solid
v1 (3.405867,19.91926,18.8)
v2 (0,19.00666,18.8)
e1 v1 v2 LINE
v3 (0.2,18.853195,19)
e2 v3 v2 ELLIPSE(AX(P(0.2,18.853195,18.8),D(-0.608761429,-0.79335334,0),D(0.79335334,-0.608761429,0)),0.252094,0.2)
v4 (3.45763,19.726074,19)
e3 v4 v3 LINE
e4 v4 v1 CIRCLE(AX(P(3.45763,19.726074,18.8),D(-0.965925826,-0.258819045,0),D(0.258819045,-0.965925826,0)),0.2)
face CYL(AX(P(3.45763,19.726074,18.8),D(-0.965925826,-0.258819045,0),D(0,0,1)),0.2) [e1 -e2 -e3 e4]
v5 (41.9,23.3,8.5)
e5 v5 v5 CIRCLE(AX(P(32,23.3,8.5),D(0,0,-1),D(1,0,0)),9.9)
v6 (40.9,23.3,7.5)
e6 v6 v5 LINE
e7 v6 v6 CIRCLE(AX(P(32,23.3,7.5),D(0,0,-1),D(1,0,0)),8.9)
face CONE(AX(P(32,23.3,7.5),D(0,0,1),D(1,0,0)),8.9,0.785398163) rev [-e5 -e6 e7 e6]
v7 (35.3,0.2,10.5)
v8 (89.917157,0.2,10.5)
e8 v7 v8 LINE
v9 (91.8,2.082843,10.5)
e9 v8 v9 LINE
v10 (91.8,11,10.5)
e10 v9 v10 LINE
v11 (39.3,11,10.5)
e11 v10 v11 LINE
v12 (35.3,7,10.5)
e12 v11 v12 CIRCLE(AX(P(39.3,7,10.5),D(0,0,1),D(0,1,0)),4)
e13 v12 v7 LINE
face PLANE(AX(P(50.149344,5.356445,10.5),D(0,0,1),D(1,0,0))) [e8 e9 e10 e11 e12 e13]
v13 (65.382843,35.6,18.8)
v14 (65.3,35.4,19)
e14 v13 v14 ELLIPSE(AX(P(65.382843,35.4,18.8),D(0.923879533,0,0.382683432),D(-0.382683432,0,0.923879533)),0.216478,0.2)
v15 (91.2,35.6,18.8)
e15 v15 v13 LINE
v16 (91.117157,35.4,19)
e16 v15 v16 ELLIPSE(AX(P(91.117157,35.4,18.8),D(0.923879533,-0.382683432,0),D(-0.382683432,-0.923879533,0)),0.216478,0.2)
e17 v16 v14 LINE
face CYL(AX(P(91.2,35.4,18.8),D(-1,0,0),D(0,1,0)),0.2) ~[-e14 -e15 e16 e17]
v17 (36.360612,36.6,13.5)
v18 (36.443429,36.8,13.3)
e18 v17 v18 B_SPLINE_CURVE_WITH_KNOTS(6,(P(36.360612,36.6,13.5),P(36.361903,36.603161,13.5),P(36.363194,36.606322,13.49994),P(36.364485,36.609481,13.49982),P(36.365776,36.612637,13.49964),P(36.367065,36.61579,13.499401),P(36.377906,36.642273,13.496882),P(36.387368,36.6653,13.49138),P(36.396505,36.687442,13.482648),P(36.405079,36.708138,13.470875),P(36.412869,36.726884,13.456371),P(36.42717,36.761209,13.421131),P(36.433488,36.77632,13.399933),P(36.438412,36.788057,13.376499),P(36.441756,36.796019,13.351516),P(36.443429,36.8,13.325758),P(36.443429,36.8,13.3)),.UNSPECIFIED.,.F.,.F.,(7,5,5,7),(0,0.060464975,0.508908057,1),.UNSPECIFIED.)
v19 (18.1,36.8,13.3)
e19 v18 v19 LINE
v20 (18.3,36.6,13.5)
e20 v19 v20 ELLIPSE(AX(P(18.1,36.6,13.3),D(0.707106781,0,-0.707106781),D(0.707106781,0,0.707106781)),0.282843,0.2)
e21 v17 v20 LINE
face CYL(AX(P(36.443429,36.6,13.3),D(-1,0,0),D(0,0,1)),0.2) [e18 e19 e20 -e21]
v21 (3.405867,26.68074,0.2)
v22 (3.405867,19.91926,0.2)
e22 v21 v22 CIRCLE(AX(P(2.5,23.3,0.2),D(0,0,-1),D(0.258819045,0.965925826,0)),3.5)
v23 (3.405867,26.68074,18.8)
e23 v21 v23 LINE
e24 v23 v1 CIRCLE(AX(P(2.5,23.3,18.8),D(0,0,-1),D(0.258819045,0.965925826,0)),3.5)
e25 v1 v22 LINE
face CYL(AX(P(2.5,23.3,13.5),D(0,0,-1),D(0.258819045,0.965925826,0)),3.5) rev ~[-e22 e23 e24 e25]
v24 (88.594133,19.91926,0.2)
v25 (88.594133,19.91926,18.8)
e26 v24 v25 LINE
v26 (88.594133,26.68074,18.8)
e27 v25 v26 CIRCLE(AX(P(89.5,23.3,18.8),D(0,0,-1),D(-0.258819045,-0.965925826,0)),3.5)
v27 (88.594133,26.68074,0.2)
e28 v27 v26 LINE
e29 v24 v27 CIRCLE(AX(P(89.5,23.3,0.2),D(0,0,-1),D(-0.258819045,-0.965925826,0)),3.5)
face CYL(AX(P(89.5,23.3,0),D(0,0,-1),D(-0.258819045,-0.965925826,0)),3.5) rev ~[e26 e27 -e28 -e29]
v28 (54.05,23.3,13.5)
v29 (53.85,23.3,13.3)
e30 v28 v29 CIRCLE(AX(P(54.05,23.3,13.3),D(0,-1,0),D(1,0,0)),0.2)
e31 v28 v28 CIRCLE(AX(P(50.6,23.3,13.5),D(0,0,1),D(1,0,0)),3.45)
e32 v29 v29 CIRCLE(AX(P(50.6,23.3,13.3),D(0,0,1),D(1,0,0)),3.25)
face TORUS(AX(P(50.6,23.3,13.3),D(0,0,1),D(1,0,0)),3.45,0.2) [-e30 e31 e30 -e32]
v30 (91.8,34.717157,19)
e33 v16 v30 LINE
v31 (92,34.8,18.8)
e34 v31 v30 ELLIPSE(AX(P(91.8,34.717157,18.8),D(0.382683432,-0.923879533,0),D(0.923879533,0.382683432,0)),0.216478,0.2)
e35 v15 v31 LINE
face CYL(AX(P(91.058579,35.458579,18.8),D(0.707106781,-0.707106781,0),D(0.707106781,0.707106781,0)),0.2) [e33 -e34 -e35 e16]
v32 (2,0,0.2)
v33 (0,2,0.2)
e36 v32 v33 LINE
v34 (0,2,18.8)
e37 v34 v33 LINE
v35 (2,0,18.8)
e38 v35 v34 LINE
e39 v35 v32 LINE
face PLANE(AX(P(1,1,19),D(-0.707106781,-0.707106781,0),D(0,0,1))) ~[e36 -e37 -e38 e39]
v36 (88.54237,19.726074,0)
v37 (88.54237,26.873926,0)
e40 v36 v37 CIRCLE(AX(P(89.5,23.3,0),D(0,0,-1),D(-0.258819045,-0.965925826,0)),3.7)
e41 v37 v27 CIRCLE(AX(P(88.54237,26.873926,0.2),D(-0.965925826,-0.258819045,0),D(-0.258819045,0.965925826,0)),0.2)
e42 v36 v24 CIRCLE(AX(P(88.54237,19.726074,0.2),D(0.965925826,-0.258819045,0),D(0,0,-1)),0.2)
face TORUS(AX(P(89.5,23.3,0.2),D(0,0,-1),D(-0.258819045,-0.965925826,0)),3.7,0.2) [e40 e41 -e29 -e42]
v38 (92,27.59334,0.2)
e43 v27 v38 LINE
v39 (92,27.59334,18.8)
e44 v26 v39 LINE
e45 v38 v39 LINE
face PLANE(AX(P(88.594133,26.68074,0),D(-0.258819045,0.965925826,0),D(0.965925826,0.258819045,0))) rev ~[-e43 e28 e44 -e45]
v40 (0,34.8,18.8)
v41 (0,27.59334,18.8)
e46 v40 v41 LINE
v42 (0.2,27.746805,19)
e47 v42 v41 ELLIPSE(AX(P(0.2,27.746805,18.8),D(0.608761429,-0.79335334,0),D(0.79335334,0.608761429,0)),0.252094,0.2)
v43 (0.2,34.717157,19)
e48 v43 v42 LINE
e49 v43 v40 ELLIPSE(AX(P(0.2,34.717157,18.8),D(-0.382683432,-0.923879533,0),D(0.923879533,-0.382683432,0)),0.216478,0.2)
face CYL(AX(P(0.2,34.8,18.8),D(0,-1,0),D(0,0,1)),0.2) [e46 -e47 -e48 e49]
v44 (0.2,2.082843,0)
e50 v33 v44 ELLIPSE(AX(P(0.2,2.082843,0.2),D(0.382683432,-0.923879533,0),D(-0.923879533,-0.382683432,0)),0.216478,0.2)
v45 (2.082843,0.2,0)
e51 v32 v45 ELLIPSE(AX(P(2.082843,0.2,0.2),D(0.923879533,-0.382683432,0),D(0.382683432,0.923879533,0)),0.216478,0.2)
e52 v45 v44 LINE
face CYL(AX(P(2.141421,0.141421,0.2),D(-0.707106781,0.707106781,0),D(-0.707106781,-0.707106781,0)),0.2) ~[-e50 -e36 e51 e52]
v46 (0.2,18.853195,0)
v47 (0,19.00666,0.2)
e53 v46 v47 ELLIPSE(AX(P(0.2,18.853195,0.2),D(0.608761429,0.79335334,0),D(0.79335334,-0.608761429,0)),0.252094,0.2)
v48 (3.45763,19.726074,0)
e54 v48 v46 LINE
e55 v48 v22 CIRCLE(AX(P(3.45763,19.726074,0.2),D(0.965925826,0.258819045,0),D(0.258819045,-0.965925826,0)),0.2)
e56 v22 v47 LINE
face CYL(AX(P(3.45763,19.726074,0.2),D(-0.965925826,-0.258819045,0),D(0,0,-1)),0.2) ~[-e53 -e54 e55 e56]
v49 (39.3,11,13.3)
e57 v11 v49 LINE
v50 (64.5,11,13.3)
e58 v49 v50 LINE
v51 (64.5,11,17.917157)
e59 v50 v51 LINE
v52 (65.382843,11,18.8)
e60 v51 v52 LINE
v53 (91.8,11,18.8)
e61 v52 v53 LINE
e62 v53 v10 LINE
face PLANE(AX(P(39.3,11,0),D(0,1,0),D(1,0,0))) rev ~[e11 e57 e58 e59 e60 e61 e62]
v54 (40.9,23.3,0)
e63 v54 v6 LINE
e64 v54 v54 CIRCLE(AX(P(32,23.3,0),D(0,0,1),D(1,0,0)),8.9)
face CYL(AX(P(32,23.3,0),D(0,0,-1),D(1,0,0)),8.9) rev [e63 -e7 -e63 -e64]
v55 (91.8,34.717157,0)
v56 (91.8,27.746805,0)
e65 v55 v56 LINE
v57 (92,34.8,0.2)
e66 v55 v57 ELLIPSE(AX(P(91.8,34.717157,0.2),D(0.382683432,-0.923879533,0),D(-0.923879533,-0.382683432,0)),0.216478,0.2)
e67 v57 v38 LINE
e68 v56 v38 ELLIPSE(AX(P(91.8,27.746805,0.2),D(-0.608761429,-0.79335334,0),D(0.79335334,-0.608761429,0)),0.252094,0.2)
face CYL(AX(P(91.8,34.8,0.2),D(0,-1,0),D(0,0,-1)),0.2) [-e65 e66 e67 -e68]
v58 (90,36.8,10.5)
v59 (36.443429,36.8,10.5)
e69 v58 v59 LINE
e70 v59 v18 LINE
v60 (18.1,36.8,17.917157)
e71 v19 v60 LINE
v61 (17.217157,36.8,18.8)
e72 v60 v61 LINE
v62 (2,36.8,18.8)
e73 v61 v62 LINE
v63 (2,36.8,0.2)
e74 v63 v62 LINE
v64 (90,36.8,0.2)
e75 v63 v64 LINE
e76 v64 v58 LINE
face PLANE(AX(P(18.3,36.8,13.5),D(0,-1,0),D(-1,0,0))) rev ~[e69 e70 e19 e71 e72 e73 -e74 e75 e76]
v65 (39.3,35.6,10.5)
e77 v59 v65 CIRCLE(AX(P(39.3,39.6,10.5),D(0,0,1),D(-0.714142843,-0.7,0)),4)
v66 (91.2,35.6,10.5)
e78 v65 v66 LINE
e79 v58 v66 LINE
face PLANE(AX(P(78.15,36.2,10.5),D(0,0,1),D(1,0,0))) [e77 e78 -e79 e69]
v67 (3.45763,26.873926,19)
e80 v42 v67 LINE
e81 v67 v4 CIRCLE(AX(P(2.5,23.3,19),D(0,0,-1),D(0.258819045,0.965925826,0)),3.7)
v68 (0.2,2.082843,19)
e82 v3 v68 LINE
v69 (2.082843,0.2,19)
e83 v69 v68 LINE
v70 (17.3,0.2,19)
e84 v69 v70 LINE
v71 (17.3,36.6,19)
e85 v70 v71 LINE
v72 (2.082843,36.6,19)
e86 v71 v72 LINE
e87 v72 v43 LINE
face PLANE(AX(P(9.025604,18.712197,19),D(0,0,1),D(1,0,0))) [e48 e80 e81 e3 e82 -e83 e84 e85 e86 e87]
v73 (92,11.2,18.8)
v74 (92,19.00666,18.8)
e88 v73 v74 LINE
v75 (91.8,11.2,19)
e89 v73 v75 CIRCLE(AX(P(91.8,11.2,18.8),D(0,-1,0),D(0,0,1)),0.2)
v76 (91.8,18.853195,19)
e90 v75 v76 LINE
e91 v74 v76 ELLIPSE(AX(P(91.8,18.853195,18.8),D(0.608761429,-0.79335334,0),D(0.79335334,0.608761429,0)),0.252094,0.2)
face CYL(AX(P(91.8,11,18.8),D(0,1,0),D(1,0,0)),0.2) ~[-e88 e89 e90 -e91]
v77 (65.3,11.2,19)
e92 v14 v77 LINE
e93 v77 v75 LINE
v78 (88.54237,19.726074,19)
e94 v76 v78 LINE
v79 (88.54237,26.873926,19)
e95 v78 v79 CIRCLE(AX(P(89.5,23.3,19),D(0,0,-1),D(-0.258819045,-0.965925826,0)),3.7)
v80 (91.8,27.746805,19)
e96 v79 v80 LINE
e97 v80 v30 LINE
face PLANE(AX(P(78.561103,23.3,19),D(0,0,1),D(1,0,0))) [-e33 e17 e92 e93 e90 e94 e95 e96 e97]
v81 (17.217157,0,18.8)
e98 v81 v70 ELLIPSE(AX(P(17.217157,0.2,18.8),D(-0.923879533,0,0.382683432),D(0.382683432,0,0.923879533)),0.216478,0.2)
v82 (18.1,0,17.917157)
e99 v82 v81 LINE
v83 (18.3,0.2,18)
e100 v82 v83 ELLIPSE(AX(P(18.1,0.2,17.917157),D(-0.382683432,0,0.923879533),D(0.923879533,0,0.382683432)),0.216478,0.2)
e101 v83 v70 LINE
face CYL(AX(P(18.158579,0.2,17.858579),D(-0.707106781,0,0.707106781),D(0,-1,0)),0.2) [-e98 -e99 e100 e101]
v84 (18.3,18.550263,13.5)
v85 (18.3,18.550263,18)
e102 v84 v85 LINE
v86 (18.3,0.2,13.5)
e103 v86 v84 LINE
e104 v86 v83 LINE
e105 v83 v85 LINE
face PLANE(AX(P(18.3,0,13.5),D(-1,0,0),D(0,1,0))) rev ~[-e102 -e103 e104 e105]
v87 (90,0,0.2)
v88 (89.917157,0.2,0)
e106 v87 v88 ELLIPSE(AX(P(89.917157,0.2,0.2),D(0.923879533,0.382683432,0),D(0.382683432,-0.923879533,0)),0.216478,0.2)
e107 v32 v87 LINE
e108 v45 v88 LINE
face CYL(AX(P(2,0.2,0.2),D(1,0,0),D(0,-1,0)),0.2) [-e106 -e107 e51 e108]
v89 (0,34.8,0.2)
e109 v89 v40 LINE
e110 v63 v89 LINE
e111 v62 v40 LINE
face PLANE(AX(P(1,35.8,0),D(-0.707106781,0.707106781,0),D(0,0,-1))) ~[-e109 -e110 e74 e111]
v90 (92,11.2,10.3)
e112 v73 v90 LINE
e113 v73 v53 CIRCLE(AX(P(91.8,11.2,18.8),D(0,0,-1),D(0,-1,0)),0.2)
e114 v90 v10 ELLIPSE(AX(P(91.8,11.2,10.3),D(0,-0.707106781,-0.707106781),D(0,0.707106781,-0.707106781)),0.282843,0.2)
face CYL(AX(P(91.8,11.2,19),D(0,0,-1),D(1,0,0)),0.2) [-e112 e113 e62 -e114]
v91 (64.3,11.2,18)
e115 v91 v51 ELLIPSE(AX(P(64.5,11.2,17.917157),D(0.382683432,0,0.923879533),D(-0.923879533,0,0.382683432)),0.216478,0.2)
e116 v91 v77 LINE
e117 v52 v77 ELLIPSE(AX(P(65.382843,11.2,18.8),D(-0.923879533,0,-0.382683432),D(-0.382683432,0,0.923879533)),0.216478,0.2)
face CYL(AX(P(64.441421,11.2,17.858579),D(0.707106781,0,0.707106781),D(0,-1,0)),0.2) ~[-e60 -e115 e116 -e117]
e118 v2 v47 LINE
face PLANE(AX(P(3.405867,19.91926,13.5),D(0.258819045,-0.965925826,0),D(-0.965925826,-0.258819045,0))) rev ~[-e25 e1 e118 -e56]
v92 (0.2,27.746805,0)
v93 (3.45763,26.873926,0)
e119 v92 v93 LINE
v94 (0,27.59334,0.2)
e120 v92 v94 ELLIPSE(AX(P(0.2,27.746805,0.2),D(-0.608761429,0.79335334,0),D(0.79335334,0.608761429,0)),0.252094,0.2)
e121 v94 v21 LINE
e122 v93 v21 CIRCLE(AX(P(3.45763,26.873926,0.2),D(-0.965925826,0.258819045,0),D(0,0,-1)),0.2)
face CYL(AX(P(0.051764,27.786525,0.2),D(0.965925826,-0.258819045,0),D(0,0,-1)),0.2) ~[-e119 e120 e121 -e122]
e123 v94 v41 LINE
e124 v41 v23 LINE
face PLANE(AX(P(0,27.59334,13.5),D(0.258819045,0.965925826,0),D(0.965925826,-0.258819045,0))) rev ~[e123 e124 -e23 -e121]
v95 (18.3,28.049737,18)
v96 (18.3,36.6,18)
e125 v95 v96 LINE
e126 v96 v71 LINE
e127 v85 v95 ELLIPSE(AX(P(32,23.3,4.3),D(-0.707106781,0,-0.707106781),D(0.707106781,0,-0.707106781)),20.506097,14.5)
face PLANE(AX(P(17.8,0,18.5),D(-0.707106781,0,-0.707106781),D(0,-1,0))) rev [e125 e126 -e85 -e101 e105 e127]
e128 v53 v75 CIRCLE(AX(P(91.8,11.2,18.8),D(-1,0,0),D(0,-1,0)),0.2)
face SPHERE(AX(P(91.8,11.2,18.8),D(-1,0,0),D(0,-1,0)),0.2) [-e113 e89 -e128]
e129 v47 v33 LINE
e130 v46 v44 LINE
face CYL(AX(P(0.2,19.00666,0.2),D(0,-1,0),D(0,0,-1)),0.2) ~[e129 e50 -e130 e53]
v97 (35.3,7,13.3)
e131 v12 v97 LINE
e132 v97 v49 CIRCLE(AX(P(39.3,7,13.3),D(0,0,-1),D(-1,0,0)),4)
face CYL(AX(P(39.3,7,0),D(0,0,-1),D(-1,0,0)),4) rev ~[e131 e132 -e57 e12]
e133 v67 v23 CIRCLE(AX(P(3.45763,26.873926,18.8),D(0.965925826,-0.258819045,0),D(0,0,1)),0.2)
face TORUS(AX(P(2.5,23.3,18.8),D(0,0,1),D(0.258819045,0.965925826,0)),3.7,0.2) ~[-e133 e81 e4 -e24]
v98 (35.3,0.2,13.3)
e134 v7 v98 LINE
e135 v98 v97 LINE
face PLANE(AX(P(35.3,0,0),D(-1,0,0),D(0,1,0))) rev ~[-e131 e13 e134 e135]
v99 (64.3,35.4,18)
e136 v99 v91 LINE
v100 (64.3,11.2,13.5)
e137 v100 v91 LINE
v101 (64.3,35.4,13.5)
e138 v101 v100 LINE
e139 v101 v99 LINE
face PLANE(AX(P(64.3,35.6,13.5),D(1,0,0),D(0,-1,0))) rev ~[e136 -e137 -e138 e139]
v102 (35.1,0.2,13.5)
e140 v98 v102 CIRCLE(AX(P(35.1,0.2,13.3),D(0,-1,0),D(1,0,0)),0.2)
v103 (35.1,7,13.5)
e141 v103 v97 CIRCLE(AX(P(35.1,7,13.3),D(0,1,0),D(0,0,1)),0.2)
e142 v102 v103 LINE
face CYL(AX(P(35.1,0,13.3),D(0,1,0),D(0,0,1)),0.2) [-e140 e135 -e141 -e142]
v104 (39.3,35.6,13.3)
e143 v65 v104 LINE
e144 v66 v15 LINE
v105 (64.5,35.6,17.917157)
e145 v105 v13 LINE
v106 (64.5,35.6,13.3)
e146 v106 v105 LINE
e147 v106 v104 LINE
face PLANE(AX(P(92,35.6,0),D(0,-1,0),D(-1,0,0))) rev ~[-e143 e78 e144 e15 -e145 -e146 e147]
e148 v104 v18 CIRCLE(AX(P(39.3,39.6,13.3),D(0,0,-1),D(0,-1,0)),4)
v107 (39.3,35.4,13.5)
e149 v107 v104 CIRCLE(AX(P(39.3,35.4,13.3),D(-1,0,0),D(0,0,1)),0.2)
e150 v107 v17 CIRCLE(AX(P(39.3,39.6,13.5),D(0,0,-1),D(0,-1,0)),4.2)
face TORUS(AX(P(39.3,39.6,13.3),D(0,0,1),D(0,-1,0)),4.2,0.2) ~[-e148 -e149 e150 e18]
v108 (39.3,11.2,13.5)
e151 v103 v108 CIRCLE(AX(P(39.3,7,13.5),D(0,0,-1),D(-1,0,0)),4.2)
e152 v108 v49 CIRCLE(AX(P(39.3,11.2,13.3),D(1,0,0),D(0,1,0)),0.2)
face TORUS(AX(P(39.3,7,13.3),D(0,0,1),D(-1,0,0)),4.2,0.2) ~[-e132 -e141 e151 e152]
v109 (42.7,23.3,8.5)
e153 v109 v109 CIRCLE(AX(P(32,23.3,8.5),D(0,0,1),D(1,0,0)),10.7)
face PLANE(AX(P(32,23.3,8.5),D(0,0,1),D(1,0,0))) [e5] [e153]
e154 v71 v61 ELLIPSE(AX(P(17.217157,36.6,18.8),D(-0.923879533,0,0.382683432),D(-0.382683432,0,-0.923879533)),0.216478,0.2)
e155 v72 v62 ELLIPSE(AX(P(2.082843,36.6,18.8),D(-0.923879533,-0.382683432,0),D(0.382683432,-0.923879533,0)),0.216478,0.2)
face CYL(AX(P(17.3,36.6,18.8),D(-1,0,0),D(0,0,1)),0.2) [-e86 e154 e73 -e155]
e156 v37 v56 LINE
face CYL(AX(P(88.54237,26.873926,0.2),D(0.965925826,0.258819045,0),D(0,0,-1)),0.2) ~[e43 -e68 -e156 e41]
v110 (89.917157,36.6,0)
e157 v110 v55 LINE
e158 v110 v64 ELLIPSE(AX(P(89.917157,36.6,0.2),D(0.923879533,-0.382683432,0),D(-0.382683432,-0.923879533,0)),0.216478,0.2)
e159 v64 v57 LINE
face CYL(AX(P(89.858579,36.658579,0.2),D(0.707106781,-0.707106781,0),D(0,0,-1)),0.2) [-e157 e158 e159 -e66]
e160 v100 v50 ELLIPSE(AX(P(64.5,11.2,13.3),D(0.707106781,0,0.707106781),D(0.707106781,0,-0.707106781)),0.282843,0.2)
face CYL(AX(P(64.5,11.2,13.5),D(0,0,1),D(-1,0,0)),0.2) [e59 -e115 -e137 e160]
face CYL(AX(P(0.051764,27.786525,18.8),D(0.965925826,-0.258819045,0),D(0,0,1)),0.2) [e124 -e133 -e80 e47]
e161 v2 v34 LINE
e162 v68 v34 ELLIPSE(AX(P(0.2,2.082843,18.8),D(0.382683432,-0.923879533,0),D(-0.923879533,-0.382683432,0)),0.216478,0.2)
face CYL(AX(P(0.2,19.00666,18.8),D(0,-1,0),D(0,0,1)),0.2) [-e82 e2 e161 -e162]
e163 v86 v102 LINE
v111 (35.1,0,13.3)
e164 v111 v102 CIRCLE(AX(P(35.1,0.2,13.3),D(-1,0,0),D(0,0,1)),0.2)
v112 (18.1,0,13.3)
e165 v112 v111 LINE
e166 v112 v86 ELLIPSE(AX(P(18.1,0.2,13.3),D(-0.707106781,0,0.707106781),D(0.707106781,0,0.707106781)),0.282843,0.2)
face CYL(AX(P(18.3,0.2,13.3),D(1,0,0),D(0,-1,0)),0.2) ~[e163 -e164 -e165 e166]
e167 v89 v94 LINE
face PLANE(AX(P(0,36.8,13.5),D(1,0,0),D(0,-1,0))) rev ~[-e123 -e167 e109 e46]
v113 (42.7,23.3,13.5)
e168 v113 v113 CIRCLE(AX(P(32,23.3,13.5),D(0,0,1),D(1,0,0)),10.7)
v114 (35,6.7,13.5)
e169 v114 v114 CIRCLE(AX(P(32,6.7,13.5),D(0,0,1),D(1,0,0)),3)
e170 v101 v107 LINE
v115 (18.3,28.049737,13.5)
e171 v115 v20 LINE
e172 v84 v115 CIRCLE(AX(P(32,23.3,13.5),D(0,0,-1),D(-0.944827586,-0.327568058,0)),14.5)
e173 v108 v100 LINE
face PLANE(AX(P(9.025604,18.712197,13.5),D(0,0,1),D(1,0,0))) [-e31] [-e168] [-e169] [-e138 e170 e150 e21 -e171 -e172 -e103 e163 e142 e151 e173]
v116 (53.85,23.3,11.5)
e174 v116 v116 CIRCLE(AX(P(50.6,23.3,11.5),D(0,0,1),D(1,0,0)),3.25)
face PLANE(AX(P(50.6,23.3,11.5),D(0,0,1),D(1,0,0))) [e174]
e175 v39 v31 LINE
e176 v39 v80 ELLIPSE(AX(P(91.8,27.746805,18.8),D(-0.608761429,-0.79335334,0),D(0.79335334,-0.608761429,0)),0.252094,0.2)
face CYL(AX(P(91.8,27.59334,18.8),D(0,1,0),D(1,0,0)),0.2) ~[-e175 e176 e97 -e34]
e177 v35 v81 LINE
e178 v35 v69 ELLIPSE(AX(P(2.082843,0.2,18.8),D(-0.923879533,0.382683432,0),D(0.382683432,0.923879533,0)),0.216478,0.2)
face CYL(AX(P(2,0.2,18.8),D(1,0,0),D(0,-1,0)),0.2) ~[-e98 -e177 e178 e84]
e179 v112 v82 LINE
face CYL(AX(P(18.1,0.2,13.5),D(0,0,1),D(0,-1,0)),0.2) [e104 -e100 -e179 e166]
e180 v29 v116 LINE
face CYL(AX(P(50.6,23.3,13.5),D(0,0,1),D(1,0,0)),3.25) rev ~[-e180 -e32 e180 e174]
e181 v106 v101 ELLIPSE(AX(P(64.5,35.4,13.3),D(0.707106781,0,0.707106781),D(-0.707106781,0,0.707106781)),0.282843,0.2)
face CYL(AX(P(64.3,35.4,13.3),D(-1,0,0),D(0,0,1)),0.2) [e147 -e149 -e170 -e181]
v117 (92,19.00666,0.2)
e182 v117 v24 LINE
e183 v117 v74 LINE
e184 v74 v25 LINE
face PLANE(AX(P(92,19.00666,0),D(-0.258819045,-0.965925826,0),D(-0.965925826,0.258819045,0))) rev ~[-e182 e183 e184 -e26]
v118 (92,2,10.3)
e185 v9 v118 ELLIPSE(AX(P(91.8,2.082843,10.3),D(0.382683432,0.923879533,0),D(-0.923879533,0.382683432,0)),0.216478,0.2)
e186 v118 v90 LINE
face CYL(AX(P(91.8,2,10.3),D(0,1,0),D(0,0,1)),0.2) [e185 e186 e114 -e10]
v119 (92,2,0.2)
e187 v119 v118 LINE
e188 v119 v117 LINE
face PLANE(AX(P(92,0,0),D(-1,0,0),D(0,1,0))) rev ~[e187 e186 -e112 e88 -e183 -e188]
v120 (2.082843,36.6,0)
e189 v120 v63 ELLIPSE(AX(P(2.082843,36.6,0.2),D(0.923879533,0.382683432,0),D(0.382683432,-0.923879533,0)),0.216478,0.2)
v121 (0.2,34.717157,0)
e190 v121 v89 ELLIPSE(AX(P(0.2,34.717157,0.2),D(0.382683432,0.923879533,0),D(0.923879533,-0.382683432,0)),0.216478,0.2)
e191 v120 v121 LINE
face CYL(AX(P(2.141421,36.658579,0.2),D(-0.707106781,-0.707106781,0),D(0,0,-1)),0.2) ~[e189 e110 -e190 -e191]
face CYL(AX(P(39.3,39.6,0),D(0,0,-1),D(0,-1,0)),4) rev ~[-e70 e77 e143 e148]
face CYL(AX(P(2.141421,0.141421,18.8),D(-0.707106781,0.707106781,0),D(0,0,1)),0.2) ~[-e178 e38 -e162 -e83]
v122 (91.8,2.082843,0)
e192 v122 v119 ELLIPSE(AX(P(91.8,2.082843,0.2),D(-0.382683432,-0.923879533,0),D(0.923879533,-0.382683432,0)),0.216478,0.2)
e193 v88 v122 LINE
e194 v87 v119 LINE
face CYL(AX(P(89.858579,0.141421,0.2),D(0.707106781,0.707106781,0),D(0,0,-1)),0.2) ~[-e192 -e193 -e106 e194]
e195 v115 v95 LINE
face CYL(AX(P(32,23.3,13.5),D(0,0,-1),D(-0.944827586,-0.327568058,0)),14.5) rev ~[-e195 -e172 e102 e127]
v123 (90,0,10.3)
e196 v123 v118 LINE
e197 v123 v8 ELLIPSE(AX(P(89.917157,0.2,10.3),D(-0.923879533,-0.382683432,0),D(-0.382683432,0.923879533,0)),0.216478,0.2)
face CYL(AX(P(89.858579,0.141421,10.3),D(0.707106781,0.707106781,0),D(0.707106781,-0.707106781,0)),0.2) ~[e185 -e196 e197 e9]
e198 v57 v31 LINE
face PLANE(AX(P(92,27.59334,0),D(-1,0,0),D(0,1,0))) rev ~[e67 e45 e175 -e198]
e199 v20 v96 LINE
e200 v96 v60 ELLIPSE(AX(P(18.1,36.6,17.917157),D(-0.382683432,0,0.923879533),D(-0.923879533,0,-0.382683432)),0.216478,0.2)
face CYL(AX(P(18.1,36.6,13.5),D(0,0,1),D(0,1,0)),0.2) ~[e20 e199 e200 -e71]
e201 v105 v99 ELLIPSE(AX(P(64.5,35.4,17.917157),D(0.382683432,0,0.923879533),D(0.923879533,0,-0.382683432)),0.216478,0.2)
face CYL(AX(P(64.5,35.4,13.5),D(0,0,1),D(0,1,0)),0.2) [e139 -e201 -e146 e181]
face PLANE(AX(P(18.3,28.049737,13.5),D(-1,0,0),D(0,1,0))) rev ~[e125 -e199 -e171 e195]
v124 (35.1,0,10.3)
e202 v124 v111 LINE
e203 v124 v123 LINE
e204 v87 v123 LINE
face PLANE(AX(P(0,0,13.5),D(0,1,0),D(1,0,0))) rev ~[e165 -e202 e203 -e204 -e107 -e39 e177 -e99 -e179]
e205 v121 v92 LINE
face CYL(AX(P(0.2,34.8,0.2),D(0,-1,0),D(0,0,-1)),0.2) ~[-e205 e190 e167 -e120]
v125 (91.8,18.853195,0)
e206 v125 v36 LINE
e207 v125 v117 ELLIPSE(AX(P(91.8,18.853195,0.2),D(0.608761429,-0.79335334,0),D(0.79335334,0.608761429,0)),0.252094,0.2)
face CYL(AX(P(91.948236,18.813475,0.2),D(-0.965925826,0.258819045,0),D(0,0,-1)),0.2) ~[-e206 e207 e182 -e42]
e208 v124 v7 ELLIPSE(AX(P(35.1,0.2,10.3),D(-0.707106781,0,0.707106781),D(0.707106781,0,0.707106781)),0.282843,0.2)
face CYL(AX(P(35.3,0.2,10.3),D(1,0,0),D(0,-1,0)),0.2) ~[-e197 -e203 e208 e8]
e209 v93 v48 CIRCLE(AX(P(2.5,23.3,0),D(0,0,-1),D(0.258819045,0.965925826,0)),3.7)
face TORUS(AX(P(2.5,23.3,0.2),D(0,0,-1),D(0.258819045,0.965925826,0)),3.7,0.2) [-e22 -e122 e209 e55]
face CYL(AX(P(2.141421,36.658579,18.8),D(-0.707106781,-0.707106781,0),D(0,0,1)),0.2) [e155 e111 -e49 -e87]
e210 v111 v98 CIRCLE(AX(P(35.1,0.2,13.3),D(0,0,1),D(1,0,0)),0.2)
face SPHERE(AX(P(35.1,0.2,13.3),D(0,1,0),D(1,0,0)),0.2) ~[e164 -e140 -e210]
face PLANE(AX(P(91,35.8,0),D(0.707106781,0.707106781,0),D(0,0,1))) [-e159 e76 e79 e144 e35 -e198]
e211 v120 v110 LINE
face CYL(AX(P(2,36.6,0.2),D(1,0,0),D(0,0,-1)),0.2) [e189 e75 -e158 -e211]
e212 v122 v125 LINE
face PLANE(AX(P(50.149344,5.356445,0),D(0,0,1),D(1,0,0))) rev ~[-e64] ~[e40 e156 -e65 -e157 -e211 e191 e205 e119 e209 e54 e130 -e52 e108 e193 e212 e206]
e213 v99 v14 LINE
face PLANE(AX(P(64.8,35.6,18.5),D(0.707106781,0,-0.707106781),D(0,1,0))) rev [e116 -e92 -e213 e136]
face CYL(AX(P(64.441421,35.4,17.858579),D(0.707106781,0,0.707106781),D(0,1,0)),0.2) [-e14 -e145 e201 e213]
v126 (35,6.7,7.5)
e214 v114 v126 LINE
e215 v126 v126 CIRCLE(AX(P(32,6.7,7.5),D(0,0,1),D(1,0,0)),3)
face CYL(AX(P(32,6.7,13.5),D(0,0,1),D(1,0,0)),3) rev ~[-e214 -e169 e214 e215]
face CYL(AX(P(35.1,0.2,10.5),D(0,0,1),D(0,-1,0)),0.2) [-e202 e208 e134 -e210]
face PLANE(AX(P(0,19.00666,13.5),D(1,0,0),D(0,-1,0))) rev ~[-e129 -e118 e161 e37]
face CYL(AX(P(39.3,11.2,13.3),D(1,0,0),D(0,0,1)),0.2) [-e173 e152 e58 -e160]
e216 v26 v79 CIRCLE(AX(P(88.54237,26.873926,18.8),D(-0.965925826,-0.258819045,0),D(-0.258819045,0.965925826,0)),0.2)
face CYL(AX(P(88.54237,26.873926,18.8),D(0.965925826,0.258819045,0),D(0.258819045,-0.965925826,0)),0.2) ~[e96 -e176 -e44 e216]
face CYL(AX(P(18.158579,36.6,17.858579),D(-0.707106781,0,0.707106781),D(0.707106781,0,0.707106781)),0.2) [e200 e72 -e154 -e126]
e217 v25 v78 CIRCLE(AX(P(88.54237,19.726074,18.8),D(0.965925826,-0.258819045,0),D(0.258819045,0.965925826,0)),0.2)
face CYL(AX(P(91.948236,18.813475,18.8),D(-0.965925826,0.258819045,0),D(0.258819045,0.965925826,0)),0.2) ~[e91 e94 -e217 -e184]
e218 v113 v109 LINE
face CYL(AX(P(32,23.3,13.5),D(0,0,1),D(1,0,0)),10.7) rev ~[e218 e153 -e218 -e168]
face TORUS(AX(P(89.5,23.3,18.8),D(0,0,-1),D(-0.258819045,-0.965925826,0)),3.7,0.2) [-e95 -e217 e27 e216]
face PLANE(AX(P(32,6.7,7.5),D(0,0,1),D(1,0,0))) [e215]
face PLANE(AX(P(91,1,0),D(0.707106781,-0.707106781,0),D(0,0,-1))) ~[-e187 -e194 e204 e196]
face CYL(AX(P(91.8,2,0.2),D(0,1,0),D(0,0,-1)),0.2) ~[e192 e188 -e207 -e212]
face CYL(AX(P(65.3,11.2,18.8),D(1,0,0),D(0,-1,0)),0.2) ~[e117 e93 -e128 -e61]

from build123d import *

# Parameters (mm, degrees)
F0_R     = 8.9
F3_DEPTH = 13.5
F0_W     = 27.7
F0_H     = 11
F0_H_2   = 1.2
F4_DEPTH = 10.5
F2_R     = 10.7
F5_DEPTH = 5
F2_R_2   = 3.25
F6_DEPTH = 2
F2_R_3   = 3
F7_DEPTH = 6
F8_DEPTH = 5.5
F9_SIZE  = 1
F10_SIZE = 2
F11_R    = 0.2


with BuildPart() as f3:
    # F0 (on Top) → F3 (new body)
    with BuildSketch(Plane.XY):
        with BuildLine():
            Line((0, 19.0066603875), (0, 0))
            Line((0, 0), (18.3, 0))
            Line((18.3, 0), (18.3, 18.5502631652))
            ThreePointArc((18.3, 18.5502631652), (17.5, 23.3), (18.3, 28.0497368348))
            Line((18.3, 28.0497368348), (18.3, 36.8))
            Line((18.3, 36.8), (0, 36.8))
            Line((0, 36.8), (0, 27.5933396125))
            Line((0, 27.5933396125), (3.4058666579, 26.680740392))
            ThreePointArc((3.4058666579, 26.680740392), (6, 23.3), (3.4058666579, 19.919259608))
            Line((3.4058666579, 19.919259608), (0, 19.0066603875))
        make_face()
        with BuildLine():
            Line((18.3, 18.5502631652), (18.3, 0))
            Line((18.3, 0), (35.3, 0))
            Line((35.3, 0), (35.3, 7))
            ThreePointArc((35.3, 7), (36.4715728753, 9.8284271247), (39.3, 11))
            Line((39.3, 11), (64.3, 11))
            Line((64.3, 11), (64.3, 35.6))
            Line((64.3, 35.6), (39.3, 35.6))
            ThreePointArc((39.3, 35.6), (37.7508066615, 35.9121822171), (36.4434286286, 36.8))
            Line((36.4434286286, 36.8), (18.3, 36.8))
            Line((18.3, 36.8), (18.3, 28.0497368348))
            ThreePointArc((18.3, 28.0497368348), (17.5, 23.3), (18.3, 18.5502631652))
        make_face()
        with Locations((32, 23.3)):
            Circle(F0_R, mode=Mode.SUBTRACT)
        with BuildLine():
            Line((64.3, 35.6), (64.3, 11))
            Line((64.3, 11), (92, 11))
            Line((92, 11), (92, 19.0066603875))
            Line((92, 19.0066603875), (88.5941333421, 19.919259608))
            ThreePointArc((88.5941333421, 19.919259608), (86, 23.3), (88.5941333421, 26.680740392))
            Line((88.5941333421, 26.680740392), (92, 27.5933396125))
            Line((92, 27.5933396125), (92, 35.6))
            Line((92, 35.6), (64.3, 35.6))
        make_face()
    extrude(amount=F3_DEPTH)

    # F0 (on Top) → F4 (join)
    with BuildSketch(Plane.XY):
        with BuildLine():
            Line((35.3, 7), (35.3, 0))
            Line((35.3, 0), (64.3, 0))
            Line((64.3, 0), (64.3, 11))
            Line((64.3, 11), (39.3, 11))
            ThreePointArc((39.3, 11), (36.4715728753, 9.8284271247), (35.3, 7))
        make_face()
        with Locations((78.15, 5.5)):
            Rectangle(F0_W, F0_H)
        with Locations((78.15, 36.2)):
            Rectangle(F0_W, F0_H_2)
        with BuildLine():
            Line((39.3, 35.6), (64.3, 35.6))
            Line((64.3, 35.6), (64.3, 36.8))
            Line((64.3, 36.8), (36.4434286286, 36.8))
            ThreePointArc((36.4434286286, 36.8), (37.7508066615, 35.9121822171), (39.3, 35.6))
        make_face()
    extrude(amount=F4_DEPTH)

    # F2 (on offset) → F5 (cut)
    with BuildSketch(Plane.XY.offset(13.5)):
        with Locations((32, 23.3)):
            Circle(F2_R)
    extrude(amount=-F5_DEPTH, mode=Mode.SUBTRACT)

    # F2 (on offset) → F6 (cut)
    with BuildSketch(Plane.XY.offset(13.5)):
        with Locations((50.6, 23.3)):
            Circle(F2_R_2)
    extrude(amount=-F6_DEPTH, mode=Mode.SUBTRACT)

    # F2 (on offset) → F7 (cut)
    with BuildSketch(Plane.XY.offset(13.5)):
        with Locations((32, 6.7)):
            Circle(F2_R_3)
    extrude(amount=-F7_DEPTH, mode=Mode.SUBTRACT)

    # F2 (on offset) → F8 (join)
    with BuildSketch(Plane.XY.offset(13.5)):
        with BuildLine():
            Line((0, 0), (18.3, 0))
            Line((18.3, 0), (18.3, 18.5502631652))
            ThreePointArc((18.3, 18.5502631652), (17.5, 23.3), (18.3, 28.0497368348))
            Line((18.3, 28.0497368348), (18.3, 36.8))
            Line((18.3, 36.8), (0, 36.8))
            Line((0, 36.8), (0, 27.5933396125))
            Line((0, 27.5933396125), (3.4058666579, 26.680740392))
            ThreePointArc((3.4058666579, 26.680740392), (6, 23.3), (3.4058666579, 19.919259608))
            Line((3.4058666579, 19.919259608), (0, 19.0066603875))
            Line((0, 19.0066603875), (0, 0))
        make_face()
        with BuildLine():
            Line((64.3, 35.6), (64.3, 11))
            Line((64.3, 11), (92, 11))
            Line((92, 11), (92, 19.0066603875))
            Line((92, 19.0066603875), (88.5941333421, 19.919259608))
            ThreePointArc((88.5941333421, 19.919259608), (86, 23.3), (88.5941333421, 26.680740392))
            Line((88.5941333421, 26.680740392), (92, 27.5933396125))
            Line((92, 27.5933396125), (92, 35.6))
            Line((92, 35.6), (64.3, 35.6))
        make_face()
    extrude(amount=F8_DEPTH)

    # F9
    f9_edges = [f3.edges().sort_by_distance(p)[0] for p in [
        (18.3, 9.275132, 19),
        (23.1, 23.3, 8.5),
        (64.3, 23.3, 19),
    ]]
    chamfer(f9_edges, length=F9_SIZE)

    # F10
    f10_edges = [f3.edges().sort_by_distance(p)[0] for p in [
        (92, 0, 5.25),
        (0, 0, 9.5),
        (92, 36.8, 5.25),
        (0, 36.8, 9.5),
    ]]
    chamfer(f10_edges, length=F10_SIZE)

    # F11
    f11_edges = [f3.edges().sort_by_distance(p)[0] for p in [
        (47.35, 23.3, 13.5),
        (35.3, 3.5, 13.5),
        (64.3, 11, 15.75),
        (64.8, 11, 18.5),
        (78.65, 11, 19),
        (92, 11, 14.75),
        (92, 6.5, 10.5),
        (91, 1, 10.5),
        (62.65, 0, 10.5),
        (35.3, 0, 12),
        (26.8, 0, 13.5),
        (18.3, 0, 15.75),
        (17.8, 0, 18.5),
        (9.65, 0, 19),
        (1, 1, 19),
        (0, 10.50333, 19),
        (1.702933, 19.46296, 19),
        (6, 23.3, 19),
        (0, 31.19667, 19),
        (1, 35.8, 19),
        (9.65, 36.8, 19),
        (17.8, 36.8, 18.5),
        (18.3, 36.8, 15.75),
        (27.371714, 36.8, 13.5),
        (92, 15.00333, 19),
        (90.297067, 19.46296, 19),
        (86, 23.3, 19),
        (90.297067, 27.13704, 19),
        (92, 31.19667, 19),
        (91.6, 35.2, 19),
        (78.25, 35.6, 19),
        (64.8, 35.6, 18.5),
        (64.3, 35.6, 15.75),
        (51.8, 35.6, 13.5),
        (37.750807, 35.912182, 13.5),
        (1, 1, 0),
        (46, 0, 0),
        (91, 1, 0),
        (92, 10.50333, 0),
        (90.297067, 19.46296, 0),
        (86, 23.3, 0),
        (92, 31.19667, 0),
        (91, 35.8, 0),
        (0, 10.50333, 0),
        (1.702933, 19.46296, 0),
        (6, 23.3, 0),
        (1.702933, 27.13704, 0),
        (0, 31.19667, 0),
        (1, 35.8, 0),
        (46, 36.8, 0),
    ]]
    fillet(f11_edges, radius=F11_R)


solid = f3.part
